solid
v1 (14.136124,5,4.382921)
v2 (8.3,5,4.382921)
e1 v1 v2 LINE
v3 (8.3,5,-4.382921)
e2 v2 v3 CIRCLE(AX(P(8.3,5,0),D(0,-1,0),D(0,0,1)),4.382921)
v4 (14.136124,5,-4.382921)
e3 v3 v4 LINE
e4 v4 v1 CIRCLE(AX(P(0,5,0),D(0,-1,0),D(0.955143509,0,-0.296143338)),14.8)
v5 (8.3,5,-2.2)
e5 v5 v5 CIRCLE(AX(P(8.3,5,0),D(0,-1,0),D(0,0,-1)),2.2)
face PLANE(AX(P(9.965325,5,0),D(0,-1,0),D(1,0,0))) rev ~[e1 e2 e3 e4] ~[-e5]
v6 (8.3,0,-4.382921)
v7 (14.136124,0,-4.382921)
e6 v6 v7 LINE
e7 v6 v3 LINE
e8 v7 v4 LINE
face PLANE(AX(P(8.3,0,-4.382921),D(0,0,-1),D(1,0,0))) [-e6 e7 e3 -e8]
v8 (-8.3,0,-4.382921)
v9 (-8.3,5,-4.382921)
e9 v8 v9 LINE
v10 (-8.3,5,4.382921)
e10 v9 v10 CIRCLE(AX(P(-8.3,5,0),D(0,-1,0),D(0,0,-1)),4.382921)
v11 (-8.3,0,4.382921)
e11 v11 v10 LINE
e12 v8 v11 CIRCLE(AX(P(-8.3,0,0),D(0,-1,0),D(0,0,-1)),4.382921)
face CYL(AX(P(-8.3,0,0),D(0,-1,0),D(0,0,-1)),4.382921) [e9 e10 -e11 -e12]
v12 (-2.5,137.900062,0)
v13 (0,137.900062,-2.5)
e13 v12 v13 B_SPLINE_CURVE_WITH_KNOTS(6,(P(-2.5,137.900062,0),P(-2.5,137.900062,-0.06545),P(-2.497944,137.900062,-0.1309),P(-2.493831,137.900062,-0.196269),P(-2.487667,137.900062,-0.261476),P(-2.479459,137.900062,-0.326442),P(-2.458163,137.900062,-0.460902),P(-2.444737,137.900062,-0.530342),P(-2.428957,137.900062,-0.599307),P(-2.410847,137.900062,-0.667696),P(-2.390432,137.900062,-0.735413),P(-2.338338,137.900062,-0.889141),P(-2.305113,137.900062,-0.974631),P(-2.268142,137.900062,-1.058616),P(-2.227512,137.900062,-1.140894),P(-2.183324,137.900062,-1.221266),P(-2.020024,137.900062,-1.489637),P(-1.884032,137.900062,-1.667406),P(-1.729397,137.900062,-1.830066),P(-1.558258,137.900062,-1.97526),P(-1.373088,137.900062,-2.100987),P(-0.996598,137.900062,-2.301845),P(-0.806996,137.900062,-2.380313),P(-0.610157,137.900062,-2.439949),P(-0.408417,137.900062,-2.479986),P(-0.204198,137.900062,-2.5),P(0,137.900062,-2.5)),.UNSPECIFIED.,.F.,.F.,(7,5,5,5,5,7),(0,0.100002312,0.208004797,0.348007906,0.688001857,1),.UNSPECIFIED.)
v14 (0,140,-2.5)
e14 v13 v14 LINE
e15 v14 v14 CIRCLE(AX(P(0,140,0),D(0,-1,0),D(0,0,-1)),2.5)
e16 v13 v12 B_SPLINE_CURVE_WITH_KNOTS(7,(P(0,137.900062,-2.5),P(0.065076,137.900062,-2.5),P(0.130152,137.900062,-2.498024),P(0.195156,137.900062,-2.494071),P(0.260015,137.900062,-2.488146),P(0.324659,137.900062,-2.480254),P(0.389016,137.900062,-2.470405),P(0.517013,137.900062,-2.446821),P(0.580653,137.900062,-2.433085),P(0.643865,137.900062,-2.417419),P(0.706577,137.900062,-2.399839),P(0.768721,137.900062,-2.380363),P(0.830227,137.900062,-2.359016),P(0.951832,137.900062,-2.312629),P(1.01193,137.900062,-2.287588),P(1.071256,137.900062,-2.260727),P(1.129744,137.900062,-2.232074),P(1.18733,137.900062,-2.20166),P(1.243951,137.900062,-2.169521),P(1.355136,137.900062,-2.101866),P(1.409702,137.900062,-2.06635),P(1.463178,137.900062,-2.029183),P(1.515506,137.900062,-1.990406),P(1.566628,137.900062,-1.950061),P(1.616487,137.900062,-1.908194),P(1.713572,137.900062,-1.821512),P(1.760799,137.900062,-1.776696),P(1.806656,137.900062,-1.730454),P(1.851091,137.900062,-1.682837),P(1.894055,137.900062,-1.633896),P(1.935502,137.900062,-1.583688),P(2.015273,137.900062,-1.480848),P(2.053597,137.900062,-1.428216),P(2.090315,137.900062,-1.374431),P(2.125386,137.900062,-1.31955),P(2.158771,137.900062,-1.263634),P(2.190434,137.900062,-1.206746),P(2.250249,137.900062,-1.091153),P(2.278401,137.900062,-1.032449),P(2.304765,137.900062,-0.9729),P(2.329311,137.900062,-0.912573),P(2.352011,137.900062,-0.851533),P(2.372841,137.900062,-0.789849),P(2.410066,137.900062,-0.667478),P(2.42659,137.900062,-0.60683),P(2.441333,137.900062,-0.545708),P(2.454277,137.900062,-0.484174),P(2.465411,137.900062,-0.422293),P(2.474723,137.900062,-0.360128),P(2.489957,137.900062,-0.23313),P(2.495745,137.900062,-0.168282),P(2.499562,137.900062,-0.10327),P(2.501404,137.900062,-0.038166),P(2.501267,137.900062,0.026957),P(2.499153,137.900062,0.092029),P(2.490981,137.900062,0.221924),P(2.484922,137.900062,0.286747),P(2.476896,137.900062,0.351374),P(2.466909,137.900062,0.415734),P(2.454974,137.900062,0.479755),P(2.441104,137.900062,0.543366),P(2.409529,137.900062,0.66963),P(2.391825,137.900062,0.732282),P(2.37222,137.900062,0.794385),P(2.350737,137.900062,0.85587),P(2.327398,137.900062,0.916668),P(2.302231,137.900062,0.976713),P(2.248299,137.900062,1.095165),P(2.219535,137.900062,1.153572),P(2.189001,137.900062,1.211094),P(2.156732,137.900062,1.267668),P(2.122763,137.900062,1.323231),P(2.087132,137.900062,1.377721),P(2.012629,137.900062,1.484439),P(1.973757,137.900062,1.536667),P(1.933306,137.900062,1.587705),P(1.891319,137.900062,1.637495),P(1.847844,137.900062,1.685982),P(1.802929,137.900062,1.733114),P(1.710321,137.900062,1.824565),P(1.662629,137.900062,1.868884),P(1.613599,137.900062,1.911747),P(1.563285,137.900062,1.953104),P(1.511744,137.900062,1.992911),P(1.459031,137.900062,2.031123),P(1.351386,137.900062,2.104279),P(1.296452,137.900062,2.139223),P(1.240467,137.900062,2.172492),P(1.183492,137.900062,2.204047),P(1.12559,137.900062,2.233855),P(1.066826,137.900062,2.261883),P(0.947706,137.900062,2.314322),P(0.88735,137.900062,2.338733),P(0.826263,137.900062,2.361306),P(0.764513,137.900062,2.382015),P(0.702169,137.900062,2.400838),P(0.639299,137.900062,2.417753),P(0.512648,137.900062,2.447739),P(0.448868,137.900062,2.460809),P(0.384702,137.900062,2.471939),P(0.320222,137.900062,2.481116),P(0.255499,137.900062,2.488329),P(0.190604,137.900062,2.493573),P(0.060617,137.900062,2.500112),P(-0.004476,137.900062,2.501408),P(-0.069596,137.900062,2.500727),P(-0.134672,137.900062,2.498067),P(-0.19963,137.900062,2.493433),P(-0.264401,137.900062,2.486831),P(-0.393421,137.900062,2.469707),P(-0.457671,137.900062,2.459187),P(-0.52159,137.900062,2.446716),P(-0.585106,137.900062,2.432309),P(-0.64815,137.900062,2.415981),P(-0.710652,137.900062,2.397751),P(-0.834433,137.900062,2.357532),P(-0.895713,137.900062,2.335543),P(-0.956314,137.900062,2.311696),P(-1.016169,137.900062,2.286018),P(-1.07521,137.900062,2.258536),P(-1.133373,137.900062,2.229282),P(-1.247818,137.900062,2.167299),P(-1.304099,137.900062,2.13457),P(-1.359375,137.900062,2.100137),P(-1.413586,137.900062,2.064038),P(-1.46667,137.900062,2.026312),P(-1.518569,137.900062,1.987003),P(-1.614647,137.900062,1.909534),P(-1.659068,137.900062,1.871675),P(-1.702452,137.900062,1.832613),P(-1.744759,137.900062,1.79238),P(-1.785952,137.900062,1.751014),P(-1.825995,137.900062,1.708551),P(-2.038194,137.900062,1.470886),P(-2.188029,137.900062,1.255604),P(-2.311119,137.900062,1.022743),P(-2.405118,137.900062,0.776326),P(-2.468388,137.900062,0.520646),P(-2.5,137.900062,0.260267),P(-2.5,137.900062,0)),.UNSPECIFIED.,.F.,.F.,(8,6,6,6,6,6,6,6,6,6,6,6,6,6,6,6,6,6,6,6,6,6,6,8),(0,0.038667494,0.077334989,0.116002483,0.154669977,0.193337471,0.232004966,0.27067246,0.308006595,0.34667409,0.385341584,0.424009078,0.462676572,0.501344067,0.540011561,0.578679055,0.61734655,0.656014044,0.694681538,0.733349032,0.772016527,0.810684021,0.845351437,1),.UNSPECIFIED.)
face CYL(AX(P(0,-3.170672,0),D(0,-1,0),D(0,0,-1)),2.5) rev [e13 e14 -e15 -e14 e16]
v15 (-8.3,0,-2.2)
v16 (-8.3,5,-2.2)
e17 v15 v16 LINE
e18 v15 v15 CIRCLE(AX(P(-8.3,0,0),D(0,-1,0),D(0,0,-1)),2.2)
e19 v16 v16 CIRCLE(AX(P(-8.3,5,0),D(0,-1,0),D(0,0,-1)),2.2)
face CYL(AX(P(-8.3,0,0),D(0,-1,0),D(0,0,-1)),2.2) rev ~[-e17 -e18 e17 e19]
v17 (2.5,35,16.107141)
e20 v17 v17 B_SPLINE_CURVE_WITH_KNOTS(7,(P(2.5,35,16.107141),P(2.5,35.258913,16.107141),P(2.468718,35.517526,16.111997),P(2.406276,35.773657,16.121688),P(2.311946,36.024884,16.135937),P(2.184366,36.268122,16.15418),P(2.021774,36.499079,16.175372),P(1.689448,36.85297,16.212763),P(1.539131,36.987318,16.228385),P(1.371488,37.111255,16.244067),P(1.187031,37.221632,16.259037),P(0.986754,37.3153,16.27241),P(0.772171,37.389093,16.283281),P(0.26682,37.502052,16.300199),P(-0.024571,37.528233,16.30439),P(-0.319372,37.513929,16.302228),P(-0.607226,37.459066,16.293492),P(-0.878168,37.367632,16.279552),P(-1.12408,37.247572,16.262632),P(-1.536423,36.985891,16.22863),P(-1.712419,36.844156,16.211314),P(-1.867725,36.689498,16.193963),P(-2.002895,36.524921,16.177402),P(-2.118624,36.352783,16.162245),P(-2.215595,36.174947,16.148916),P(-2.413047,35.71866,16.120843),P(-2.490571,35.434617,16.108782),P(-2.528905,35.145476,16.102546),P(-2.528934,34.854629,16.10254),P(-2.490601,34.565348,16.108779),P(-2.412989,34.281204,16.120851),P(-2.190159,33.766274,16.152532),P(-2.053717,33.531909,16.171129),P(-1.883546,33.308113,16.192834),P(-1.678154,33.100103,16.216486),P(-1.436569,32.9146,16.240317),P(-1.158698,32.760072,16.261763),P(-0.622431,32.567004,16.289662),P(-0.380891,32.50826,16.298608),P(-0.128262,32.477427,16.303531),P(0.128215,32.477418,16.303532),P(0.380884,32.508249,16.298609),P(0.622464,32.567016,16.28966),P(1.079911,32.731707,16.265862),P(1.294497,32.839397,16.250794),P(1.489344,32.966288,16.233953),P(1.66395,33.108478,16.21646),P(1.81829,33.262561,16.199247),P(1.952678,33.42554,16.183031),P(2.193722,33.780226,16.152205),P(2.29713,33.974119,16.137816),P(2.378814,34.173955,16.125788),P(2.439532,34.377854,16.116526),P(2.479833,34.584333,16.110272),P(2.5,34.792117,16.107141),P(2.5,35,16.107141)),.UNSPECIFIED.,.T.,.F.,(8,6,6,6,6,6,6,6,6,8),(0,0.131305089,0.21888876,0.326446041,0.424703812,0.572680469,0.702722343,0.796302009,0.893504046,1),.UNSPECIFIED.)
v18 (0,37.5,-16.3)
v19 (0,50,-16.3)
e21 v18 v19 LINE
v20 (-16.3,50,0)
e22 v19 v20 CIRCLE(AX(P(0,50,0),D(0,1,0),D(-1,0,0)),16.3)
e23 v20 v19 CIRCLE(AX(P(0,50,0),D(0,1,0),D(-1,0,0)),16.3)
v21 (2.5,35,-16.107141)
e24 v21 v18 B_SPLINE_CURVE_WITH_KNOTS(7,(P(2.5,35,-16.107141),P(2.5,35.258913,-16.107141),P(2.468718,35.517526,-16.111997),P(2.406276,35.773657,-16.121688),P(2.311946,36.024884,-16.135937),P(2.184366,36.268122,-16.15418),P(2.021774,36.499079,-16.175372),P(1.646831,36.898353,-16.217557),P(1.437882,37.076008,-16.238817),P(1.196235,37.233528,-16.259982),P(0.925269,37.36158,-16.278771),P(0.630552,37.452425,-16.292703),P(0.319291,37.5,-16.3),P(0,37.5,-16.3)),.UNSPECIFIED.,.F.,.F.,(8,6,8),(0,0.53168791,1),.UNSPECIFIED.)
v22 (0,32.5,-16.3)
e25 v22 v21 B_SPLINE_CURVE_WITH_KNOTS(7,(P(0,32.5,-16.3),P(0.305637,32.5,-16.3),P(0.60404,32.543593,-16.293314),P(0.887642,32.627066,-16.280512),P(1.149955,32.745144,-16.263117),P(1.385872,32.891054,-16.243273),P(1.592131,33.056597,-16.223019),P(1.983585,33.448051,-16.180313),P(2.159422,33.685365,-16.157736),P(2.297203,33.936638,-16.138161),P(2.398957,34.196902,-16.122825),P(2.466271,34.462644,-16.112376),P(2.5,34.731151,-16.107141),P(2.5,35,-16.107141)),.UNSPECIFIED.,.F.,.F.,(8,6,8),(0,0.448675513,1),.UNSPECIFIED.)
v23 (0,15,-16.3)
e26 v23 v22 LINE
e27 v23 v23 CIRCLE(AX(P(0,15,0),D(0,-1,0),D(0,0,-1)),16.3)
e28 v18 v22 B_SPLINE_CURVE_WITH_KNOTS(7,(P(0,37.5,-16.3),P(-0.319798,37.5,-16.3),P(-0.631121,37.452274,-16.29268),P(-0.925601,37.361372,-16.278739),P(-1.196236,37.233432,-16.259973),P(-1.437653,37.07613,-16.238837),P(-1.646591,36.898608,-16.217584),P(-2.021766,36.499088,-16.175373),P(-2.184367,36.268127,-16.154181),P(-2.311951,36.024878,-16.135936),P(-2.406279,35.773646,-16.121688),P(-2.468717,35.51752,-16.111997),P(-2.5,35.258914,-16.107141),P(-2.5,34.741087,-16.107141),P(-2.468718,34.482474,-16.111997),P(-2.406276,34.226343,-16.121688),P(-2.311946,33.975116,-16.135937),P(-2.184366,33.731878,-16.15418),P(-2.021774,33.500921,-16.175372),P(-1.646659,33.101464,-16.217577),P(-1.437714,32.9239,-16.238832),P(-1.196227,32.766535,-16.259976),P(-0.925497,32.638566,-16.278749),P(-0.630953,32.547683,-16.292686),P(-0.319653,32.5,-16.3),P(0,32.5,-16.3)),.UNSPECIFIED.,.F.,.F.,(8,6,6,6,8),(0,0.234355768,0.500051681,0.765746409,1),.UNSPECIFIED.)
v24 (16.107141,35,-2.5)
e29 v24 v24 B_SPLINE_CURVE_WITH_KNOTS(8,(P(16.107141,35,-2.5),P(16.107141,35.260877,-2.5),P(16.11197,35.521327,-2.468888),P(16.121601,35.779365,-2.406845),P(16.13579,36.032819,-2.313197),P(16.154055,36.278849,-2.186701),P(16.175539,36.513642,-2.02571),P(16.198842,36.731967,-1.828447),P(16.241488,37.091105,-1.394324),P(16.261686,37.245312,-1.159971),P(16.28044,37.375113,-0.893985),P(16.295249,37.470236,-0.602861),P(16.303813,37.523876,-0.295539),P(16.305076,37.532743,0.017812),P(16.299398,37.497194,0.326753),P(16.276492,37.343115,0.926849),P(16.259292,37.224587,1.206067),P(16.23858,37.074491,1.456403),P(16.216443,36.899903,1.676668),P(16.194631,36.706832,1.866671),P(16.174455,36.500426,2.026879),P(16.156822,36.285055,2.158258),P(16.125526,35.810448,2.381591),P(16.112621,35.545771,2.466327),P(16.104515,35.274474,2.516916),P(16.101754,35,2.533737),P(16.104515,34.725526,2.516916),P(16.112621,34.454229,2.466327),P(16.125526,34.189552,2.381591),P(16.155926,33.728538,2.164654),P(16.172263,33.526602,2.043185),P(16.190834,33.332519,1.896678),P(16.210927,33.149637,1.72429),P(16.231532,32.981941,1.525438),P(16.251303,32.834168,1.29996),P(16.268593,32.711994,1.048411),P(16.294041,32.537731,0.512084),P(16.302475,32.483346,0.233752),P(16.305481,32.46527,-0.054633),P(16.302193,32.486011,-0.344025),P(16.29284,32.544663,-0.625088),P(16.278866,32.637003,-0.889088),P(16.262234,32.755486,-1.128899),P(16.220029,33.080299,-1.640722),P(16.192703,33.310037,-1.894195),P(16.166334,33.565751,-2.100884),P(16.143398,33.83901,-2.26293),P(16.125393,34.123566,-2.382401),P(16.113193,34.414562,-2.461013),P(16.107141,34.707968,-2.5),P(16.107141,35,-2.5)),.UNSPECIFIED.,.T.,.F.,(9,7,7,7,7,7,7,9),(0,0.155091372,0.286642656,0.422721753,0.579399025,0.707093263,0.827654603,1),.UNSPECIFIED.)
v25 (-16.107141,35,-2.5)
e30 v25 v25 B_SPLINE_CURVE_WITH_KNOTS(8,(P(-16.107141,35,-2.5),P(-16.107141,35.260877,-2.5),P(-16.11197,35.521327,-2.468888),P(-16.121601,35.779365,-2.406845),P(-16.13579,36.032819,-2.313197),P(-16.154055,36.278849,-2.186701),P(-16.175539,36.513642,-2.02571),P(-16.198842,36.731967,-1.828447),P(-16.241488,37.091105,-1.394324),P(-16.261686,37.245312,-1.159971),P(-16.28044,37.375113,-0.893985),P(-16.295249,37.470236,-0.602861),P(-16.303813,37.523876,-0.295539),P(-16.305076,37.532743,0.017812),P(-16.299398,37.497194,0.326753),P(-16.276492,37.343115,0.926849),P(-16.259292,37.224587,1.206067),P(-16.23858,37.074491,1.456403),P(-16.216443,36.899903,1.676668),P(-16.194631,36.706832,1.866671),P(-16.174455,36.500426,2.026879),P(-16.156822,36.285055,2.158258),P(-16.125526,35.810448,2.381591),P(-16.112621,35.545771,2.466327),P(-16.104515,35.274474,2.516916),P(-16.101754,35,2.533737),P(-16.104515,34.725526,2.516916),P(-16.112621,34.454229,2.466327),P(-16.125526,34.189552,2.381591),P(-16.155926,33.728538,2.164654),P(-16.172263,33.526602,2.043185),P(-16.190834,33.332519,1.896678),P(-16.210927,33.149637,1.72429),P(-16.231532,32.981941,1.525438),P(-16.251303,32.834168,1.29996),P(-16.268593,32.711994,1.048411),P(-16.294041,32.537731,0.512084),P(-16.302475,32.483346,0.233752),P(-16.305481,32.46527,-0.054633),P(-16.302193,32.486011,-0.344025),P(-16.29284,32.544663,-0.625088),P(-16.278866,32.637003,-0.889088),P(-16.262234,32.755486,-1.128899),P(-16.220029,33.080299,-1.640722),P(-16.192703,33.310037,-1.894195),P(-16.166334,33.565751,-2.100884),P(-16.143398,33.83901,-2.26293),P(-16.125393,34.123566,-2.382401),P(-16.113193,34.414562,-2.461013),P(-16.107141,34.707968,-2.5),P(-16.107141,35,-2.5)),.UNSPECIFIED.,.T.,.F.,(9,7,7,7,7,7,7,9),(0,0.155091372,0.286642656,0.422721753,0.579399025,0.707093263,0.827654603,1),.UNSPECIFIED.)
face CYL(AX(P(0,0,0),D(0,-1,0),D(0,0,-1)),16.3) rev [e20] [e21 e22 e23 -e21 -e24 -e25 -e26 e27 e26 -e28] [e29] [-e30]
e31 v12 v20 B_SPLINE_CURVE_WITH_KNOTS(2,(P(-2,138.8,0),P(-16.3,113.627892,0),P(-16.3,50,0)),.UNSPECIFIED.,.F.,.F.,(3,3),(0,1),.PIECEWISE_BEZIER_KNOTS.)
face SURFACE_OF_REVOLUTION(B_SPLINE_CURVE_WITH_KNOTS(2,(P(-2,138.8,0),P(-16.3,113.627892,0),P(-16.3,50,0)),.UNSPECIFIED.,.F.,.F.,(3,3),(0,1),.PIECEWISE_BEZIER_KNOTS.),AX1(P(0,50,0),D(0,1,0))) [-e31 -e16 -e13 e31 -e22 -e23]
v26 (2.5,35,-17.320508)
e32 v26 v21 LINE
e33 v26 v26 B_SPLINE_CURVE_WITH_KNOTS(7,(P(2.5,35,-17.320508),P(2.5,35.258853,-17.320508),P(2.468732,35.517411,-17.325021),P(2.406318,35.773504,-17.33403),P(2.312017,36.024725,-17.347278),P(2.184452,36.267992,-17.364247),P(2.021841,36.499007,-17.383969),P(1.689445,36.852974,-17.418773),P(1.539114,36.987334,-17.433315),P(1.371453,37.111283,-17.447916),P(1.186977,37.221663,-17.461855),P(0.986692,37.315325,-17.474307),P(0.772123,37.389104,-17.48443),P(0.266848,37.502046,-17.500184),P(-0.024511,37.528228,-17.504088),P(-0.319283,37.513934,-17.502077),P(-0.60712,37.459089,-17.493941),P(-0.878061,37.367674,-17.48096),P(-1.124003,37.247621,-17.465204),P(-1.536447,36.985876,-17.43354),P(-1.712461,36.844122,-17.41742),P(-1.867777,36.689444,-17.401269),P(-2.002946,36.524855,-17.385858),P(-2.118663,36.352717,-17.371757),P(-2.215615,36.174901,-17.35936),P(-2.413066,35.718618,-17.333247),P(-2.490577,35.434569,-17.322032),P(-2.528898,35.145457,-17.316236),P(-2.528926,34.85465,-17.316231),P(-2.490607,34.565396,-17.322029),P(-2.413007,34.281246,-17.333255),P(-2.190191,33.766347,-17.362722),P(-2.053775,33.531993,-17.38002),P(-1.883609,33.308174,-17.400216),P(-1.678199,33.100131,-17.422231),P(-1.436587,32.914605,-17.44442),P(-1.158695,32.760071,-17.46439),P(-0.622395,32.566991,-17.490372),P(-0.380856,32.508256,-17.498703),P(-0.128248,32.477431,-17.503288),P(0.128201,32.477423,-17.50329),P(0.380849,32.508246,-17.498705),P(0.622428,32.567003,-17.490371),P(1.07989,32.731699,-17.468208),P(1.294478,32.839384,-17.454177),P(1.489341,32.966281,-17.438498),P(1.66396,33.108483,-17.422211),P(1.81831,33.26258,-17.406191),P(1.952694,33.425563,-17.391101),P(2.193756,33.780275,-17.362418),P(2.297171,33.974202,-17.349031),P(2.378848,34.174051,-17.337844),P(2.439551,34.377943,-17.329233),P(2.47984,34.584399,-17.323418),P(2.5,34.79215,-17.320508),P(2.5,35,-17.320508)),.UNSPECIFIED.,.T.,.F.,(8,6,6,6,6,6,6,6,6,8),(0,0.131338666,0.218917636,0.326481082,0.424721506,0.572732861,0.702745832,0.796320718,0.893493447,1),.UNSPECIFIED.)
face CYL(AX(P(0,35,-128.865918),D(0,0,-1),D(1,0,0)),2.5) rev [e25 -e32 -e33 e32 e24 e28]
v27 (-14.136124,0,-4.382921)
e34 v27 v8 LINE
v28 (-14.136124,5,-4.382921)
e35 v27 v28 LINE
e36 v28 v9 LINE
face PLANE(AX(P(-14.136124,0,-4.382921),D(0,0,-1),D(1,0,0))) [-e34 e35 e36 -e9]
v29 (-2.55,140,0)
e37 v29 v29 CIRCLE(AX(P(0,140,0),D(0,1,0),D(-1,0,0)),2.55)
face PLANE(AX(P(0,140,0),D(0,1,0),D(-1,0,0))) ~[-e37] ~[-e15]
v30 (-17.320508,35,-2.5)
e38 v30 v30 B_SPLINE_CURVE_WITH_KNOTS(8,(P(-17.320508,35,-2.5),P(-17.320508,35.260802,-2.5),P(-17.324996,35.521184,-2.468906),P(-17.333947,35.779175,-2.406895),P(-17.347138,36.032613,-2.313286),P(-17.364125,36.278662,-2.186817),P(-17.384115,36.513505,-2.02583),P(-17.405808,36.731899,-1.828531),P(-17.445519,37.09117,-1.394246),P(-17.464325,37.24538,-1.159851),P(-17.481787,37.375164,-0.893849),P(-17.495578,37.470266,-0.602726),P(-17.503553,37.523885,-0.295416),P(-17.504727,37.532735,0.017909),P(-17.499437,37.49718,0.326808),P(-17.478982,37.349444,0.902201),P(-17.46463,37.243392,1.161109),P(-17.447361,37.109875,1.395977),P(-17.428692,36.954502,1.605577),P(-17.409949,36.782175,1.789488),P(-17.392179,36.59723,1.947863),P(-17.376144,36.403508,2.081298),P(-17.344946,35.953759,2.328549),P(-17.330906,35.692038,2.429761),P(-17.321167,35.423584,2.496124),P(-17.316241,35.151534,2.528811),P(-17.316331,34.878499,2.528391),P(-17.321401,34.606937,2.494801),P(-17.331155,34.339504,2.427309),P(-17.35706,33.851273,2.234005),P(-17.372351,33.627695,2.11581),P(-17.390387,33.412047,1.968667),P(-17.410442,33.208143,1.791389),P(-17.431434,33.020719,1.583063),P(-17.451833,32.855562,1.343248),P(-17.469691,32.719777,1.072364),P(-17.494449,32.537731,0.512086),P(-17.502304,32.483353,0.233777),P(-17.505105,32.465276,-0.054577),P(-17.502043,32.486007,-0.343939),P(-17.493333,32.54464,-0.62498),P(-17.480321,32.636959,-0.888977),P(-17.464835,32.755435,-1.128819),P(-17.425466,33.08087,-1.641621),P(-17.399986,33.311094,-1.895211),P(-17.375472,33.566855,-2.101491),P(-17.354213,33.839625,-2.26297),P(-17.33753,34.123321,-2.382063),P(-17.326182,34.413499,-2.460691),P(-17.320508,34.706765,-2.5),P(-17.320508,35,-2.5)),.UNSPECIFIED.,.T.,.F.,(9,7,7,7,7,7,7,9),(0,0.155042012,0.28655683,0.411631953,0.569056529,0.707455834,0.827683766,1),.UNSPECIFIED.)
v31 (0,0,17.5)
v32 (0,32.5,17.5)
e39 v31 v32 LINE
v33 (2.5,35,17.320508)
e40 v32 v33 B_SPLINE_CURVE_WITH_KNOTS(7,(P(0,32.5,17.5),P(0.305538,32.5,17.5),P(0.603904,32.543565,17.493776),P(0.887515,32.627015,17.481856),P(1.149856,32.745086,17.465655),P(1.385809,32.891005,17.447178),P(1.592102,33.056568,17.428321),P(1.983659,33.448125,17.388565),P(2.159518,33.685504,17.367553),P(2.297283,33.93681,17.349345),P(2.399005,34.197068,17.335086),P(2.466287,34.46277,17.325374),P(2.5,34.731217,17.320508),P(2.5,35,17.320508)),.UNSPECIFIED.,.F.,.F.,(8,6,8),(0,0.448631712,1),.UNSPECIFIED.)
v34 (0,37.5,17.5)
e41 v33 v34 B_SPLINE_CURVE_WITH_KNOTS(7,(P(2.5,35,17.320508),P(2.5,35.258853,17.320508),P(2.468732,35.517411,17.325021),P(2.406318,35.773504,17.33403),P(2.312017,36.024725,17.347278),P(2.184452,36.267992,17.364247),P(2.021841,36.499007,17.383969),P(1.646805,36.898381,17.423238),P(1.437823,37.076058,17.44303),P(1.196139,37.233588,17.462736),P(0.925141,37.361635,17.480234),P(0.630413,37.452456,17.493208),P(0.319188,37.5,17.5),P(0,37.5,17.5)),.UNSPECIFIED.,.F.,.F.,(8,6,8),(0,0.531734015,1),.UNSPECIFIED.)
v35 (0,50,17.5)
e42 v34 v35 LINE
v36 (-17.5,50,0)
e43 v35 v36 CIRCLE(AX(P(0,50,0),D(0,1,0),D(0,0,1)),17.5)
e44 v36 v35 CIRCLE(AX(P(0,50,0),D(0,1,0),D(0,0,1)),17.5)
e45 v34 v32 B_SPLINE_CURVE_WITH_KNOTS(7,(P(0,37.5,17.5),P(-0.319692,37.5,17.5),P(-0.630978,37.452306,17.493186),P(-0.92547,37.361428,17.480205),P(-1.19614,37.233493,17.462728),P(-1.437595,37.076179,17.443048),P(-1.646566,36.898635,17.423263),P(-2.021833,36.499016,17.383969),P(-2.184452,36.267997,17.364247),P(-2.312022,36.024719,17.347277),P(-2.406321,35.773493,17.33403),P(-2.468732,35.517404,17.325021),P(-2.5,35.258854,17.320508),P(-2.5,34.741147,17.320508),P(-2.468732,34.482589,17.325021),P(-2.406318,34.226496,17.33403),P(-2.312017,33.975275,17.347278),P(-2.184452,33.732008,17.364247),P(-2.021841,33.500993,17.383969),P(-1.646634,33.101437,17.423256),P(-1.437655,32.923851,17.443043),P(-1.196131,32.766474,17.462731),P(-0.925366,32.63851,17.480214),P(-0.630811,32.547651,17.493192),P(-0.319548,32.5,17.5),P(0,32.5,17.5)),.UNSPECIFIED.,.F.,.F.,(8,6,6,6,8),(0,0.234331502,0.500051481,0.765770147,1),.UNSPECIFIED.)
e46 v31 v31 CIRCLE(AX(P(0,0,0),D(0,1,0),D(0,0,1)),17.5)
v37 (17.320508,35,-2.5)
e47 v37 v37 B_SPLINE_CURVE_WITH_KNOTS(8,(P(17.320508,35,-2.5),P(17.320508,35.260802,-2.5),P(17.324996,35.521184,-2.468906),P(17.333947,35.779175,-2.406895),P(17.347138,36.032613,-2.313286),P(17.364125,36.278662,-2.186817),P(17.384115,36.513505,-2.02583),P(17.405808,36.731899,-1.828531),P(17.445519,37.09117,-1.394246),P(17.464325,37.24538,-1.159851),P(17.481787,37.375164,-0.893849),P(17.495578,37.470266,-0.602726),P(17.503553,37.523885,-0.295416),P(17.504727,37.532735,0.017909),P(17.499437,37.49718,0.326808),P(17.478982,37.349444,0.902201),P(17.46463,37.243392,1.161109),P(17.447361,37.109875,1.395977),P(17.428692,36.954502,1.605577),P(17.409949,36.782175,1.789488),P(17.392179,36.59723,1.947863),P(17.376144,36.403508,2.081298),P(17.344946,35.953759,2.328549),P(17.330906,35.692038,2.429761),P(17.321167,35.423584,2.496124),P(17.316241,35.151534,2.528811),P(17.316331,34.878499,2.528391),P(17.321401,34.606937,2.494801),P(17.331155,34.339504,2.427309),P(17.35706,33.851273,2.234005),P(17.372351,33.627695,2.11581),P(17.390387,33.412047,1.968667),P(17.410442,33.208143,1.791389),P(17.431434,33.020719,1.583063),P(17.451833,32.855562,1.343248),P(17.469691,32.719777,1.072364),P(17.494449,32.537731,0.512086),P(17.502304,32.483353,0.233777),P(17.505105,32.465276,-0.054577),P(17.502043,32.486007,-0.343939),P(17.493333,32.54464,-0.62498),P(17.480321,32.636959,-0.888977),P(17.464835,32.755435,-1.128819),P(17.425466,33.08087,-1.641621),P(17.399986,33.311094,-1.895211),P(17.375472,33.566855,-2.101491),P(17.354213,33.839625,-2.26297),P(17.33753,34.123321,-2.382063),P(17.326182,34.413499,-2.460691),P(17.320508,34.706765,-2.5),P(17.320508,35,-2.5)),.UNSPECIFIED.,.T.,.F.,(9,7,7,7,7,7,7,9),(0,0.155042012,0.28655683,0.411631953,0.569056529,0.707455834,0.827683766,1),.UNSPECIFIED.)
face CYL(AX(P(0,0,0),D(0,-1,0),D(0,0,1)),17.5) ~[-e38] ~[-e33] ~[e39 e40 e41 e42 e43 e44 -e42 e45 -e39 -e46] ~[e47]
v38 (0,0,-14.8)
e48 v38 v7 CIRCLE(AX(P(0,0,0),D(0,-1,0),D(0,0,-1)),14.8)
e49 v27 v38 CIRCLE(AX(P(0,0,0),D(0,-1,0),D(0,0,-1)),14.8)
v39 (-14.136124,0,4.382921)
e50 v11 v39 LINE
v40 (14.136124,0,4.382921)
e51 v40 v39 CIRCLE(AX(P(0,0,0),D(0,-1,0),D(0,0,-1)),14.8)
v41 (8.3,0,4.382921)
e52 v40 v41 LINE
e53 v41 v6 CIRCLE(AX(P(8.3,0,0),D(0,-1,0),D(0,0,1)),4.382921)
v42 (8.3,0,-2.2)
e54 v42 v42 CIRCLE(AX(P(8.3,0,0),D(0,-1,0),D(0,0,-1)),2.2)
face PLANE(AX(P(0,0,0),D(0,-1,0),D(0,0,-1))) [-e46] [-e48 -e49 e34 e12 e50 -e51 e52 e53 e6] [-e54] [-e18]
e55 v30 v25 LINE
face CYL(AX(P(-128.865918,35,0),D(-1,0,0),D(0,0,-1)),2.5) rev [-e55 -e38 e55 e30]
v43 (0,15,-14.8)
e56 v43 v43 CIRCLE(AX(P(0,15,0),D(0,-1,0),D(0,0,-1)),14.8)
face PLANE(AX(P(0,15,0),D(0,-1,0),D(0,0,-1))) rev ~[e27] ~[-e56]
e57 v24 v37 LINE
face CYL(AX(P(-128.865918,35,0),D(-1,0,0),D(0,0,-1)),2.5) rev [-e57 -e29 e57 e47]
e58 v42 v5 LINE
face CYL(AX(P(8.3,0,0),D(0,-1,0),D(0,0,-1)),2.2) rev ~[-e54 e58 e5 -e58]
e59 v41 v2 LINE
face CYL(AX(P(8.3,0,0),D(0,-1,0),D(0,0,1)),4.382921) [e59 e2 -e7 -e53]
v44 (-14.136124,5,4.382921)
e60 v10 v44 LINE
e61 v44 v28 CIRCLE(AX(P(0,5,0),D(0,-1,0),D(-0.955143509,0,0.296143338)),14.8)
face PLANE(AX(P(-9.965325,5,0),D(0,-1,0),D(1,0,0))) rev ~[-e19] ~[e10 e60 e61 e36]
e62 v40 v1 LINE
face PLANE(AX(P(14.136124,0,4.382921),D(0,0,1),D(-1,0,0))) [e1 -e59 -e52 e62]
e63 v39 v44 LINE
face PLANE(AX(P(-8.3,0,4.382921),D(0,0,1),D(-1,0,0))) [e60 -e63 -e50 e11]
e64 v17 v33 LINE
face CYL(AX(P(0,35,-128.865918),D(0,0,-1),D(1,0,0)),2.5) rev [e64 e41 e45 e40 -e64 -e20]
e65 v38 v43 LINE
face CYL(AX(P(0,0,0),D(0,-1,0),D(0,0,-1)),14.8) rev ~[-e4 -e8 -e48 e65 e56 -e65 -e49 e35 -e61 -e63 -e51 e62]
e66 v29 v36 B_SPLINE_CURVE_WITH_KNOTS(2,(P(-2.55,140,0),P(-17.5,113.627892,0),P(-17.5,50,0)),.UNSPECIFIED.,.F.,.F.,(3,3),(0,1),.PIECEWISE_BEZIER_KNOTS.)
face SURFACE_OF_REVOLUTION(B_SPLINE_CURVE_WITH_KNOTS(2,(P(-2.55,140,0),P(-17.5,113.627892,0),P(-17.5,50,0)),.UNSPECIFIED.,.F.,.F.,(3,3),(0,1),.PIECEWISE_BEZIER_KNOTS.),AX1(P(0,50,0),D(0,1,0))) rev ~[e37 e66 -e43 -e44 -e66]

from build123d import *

# Parameters (mm, degrees)
SCHIZZO1_R                    = 17.5
ESTRUSIONE_ESTRUSIONE1_DEPTH  = 50
TAGLIO_ESTRUSIONE1_REACH      = 144.171
SCHIZZO10_R                   = 16.3
TAGLIO_ESTRUSIONE3_DEPTH      = 143.170672106
TAGLIO_ESTRUSIONE3_DEPTH_BACK = 143.170672106
SCHIZZO14_R                   = 2.5
SKETCH1_R                     = 16.3
SKETCH1_R_2                   = 14.8
BOSS_EXTRUDE3_DEPTH           = 15
SKETCH2_R                     = 2.2
BOSS_EXTRUDE4_DEPTH           = 5
CUT_EXTRUDE1_DEPTH            = 146.365917733
CUT_EXTRUDE1_DEPTH_BACK       = 146.365917733
SKETCH4_R                     = 2.5
CUT_EXTRUDE2_DEPTH            = 146.365917738
CUT_EXTRUDE2_DEPTH_BACK       = 146.365917738
SKETCH5_R                     = 2.5


with BuildPart() as part:
    # Schizzo1 → Estrusione-Estrusione1 (new body)
    with BuildSketch(Plane(origin=(0, 0, 0), x_dir=(1, 0, 0), z_dir=(0, 1, 0))):
        with Locations(Location((0, 0, 0), (0, 0, 270))):
            Circle(SCHIZZO1_R)
    extrude(amount=ESTRUSIONE_ESTRUSIONE1_DEPTH)

    # Schizzo7 → Rivoluzione1 (revolve)
    with BuildSketch(Plane.XY):
        with BuildLine():
            Line((0, 140), (-2.55, 140))
            add(Edge.make_bspline(
                [(-2.55, 140), (-17.5, 113.62789219), (-17.5, 50)],
                knots=[0, 0, 0, 1, 1, 1], degree=2))
            Line((-17.5, 50), (-16.3, 50))
            add(Edge.make_bspline(
                [(-2, 138.8), (-16.3, 113.62789219), (-16.3, 50)],
                knots=[0, 0, 0, 1, 1, 1], degree=2))
            Line((-2, 138.8), (0, 138.8))
            Line((0, 138.8), (0, 140))
        make_face()
    revolve(axis=Axis((0, 50, 0), (0, 1, 0)))

    # Schizzo10 → Taglio-Estrusione1 (cut, up to next)
    with BuildSketch(Plane(origin=(0, 0, 0), x_dir=(1, 0, 0), z_dir=(0, 1, 0)), mode=Mode.PRIVATE) as taglio_estrusione1_sk1:
        with Locations(Location((0, 0, 0), (0, 0, 90))):
            Circle(SCHIZZO10_R)
    taglio_estrusione1_tool1 = extrude(taglio_estrusione1_sk1.sketch, amount=TAGLIO_ESTRUSIONE1_REACH, mode=Mode.PRIVATE) & part.part
    add(taglio_estrusione1_tool1.solids().sort_by_distance((0, 0, 0))[0], mode=Mode.SUBTRACT)

    # Schizzo14 → Taglio-Estrusione3 (cut, two sides: drawn at the far end of the back side and taken through both)
    with BuildSketch(Plane(origin=(0, 140, 0), x_dir=(1, 0, 0), z_dir=(0, 1, 0)).offset(-TAGLIO_ESTRUSIONE3_DEPTH_BACK)):
        with Locations(Location((0, 0, 0), (0, 0, 90))):
            Circle(SCHIZZO14_R)
    extrude(amount=TAGLIO_ESTRUSIONE3_DEPTH + TAGLIO_ESTRUSIONE3_DEPTH_BACK, mode=Mode.SUBTRACT)

    # Sketch1 → Boss-Extrude3 (add)
    with BuildSketch(Plane.XZ):
        with Locations(Location((0, 0, 0), (0, 0, 270))):
            Circle(SKETCH1_R)
        with Locations(Location((0, 0, 0), (0, 0, 270))):
            Circle(SKETCH1_R_2, mode=Mode.SUBTRACT)
    extrude(amount=-BOSS_EXTRUDE3_DEPTH)

    # Sketch2 → Boss-Extrude4 (add)
    # profile 1 of 2: a face of its own
    with BuildSketch(Plane.XZ):
        with BuildLine():
            ThreePointArc((8.3, 4.3829214), (3.9170786, 0), (8.3, -4.3829214))
            Line((8.3, -4.3829214), (14.136123938, -4.3829214))
            ThreePointArc((14.136123938, -4.3829214), (14.8, 0), (14.136123938, 4.3829214))
            Line((14.136123938, 4.3829214), (8.3, 4.3829214))
        make_face()
        with Locations(Location((8.3, 0, 0), (0, 0, 270))):
            Circle(SKETCH2_R, mode=Mode.SUBTRACT)
    # profile 2 of 2: a face of its own
    with BuildSketch(Plane.XZ):
        with BuildLine():
            Line((-8.3, 4.3829214), (-14.136123938, 4.3829214))
            ThreePointArc((-14.136123938, 4.3829214), (-14.8, 0), (-14.136123938, -4.3829214))
            Line((-14.136123938, -4.3829214), (-8.3, -4.3829214))
            ThreePointArc((-8.3, -4.3829214), (-3.9170786, 0), (-8.3, 4.3829214))
        make_face()
        with Locations(Location((-8.3, 0, 0), (0, 0, 270))):
            Circle(SKETCH2_R, mode=Mode.SUBTRACT)
    extrude(amount=-BOSS_EXTRUDE4_DEPTH)

    # Sketch4 → Cut-Extrude1 (cut, two sides: drawn at the far end of the back side and taken through both)
    with BuildSketch(Plane.XY.offset(17.5).offset(-CUT_EXTRUDE1_DEPTH_BACK)):
        with Locations((0, 35)):
            Circle(SKETCH4_R)
    extrude(amount=CUT_EXTRUDE1_DEPTH + CUT_EXTRUDE1_DEPTH_BACK, mode=Mode.SUBTRACT)

    # Sketch5 → Cut-Extrude2 (cut, two sides: drawn at the far end of the back side and taken through both)
    with BuildSketch(Plane(origin=(17.5, 0, 0), x_dir=(0, 0, -1), z_dir=(1, 0, 0)).offset(-CUT_EXTRUDE2_DEPTH_BACK)):
        with Locations((0, 35)):
            Circle(SKETCH5_R)
    extrude(amount=CUT_EXTRUDE2_DEPTH + CUT_EXTRUDE2_DEPTH_BACK, mode=Mode.SUBTRACT)


solid = part.part
